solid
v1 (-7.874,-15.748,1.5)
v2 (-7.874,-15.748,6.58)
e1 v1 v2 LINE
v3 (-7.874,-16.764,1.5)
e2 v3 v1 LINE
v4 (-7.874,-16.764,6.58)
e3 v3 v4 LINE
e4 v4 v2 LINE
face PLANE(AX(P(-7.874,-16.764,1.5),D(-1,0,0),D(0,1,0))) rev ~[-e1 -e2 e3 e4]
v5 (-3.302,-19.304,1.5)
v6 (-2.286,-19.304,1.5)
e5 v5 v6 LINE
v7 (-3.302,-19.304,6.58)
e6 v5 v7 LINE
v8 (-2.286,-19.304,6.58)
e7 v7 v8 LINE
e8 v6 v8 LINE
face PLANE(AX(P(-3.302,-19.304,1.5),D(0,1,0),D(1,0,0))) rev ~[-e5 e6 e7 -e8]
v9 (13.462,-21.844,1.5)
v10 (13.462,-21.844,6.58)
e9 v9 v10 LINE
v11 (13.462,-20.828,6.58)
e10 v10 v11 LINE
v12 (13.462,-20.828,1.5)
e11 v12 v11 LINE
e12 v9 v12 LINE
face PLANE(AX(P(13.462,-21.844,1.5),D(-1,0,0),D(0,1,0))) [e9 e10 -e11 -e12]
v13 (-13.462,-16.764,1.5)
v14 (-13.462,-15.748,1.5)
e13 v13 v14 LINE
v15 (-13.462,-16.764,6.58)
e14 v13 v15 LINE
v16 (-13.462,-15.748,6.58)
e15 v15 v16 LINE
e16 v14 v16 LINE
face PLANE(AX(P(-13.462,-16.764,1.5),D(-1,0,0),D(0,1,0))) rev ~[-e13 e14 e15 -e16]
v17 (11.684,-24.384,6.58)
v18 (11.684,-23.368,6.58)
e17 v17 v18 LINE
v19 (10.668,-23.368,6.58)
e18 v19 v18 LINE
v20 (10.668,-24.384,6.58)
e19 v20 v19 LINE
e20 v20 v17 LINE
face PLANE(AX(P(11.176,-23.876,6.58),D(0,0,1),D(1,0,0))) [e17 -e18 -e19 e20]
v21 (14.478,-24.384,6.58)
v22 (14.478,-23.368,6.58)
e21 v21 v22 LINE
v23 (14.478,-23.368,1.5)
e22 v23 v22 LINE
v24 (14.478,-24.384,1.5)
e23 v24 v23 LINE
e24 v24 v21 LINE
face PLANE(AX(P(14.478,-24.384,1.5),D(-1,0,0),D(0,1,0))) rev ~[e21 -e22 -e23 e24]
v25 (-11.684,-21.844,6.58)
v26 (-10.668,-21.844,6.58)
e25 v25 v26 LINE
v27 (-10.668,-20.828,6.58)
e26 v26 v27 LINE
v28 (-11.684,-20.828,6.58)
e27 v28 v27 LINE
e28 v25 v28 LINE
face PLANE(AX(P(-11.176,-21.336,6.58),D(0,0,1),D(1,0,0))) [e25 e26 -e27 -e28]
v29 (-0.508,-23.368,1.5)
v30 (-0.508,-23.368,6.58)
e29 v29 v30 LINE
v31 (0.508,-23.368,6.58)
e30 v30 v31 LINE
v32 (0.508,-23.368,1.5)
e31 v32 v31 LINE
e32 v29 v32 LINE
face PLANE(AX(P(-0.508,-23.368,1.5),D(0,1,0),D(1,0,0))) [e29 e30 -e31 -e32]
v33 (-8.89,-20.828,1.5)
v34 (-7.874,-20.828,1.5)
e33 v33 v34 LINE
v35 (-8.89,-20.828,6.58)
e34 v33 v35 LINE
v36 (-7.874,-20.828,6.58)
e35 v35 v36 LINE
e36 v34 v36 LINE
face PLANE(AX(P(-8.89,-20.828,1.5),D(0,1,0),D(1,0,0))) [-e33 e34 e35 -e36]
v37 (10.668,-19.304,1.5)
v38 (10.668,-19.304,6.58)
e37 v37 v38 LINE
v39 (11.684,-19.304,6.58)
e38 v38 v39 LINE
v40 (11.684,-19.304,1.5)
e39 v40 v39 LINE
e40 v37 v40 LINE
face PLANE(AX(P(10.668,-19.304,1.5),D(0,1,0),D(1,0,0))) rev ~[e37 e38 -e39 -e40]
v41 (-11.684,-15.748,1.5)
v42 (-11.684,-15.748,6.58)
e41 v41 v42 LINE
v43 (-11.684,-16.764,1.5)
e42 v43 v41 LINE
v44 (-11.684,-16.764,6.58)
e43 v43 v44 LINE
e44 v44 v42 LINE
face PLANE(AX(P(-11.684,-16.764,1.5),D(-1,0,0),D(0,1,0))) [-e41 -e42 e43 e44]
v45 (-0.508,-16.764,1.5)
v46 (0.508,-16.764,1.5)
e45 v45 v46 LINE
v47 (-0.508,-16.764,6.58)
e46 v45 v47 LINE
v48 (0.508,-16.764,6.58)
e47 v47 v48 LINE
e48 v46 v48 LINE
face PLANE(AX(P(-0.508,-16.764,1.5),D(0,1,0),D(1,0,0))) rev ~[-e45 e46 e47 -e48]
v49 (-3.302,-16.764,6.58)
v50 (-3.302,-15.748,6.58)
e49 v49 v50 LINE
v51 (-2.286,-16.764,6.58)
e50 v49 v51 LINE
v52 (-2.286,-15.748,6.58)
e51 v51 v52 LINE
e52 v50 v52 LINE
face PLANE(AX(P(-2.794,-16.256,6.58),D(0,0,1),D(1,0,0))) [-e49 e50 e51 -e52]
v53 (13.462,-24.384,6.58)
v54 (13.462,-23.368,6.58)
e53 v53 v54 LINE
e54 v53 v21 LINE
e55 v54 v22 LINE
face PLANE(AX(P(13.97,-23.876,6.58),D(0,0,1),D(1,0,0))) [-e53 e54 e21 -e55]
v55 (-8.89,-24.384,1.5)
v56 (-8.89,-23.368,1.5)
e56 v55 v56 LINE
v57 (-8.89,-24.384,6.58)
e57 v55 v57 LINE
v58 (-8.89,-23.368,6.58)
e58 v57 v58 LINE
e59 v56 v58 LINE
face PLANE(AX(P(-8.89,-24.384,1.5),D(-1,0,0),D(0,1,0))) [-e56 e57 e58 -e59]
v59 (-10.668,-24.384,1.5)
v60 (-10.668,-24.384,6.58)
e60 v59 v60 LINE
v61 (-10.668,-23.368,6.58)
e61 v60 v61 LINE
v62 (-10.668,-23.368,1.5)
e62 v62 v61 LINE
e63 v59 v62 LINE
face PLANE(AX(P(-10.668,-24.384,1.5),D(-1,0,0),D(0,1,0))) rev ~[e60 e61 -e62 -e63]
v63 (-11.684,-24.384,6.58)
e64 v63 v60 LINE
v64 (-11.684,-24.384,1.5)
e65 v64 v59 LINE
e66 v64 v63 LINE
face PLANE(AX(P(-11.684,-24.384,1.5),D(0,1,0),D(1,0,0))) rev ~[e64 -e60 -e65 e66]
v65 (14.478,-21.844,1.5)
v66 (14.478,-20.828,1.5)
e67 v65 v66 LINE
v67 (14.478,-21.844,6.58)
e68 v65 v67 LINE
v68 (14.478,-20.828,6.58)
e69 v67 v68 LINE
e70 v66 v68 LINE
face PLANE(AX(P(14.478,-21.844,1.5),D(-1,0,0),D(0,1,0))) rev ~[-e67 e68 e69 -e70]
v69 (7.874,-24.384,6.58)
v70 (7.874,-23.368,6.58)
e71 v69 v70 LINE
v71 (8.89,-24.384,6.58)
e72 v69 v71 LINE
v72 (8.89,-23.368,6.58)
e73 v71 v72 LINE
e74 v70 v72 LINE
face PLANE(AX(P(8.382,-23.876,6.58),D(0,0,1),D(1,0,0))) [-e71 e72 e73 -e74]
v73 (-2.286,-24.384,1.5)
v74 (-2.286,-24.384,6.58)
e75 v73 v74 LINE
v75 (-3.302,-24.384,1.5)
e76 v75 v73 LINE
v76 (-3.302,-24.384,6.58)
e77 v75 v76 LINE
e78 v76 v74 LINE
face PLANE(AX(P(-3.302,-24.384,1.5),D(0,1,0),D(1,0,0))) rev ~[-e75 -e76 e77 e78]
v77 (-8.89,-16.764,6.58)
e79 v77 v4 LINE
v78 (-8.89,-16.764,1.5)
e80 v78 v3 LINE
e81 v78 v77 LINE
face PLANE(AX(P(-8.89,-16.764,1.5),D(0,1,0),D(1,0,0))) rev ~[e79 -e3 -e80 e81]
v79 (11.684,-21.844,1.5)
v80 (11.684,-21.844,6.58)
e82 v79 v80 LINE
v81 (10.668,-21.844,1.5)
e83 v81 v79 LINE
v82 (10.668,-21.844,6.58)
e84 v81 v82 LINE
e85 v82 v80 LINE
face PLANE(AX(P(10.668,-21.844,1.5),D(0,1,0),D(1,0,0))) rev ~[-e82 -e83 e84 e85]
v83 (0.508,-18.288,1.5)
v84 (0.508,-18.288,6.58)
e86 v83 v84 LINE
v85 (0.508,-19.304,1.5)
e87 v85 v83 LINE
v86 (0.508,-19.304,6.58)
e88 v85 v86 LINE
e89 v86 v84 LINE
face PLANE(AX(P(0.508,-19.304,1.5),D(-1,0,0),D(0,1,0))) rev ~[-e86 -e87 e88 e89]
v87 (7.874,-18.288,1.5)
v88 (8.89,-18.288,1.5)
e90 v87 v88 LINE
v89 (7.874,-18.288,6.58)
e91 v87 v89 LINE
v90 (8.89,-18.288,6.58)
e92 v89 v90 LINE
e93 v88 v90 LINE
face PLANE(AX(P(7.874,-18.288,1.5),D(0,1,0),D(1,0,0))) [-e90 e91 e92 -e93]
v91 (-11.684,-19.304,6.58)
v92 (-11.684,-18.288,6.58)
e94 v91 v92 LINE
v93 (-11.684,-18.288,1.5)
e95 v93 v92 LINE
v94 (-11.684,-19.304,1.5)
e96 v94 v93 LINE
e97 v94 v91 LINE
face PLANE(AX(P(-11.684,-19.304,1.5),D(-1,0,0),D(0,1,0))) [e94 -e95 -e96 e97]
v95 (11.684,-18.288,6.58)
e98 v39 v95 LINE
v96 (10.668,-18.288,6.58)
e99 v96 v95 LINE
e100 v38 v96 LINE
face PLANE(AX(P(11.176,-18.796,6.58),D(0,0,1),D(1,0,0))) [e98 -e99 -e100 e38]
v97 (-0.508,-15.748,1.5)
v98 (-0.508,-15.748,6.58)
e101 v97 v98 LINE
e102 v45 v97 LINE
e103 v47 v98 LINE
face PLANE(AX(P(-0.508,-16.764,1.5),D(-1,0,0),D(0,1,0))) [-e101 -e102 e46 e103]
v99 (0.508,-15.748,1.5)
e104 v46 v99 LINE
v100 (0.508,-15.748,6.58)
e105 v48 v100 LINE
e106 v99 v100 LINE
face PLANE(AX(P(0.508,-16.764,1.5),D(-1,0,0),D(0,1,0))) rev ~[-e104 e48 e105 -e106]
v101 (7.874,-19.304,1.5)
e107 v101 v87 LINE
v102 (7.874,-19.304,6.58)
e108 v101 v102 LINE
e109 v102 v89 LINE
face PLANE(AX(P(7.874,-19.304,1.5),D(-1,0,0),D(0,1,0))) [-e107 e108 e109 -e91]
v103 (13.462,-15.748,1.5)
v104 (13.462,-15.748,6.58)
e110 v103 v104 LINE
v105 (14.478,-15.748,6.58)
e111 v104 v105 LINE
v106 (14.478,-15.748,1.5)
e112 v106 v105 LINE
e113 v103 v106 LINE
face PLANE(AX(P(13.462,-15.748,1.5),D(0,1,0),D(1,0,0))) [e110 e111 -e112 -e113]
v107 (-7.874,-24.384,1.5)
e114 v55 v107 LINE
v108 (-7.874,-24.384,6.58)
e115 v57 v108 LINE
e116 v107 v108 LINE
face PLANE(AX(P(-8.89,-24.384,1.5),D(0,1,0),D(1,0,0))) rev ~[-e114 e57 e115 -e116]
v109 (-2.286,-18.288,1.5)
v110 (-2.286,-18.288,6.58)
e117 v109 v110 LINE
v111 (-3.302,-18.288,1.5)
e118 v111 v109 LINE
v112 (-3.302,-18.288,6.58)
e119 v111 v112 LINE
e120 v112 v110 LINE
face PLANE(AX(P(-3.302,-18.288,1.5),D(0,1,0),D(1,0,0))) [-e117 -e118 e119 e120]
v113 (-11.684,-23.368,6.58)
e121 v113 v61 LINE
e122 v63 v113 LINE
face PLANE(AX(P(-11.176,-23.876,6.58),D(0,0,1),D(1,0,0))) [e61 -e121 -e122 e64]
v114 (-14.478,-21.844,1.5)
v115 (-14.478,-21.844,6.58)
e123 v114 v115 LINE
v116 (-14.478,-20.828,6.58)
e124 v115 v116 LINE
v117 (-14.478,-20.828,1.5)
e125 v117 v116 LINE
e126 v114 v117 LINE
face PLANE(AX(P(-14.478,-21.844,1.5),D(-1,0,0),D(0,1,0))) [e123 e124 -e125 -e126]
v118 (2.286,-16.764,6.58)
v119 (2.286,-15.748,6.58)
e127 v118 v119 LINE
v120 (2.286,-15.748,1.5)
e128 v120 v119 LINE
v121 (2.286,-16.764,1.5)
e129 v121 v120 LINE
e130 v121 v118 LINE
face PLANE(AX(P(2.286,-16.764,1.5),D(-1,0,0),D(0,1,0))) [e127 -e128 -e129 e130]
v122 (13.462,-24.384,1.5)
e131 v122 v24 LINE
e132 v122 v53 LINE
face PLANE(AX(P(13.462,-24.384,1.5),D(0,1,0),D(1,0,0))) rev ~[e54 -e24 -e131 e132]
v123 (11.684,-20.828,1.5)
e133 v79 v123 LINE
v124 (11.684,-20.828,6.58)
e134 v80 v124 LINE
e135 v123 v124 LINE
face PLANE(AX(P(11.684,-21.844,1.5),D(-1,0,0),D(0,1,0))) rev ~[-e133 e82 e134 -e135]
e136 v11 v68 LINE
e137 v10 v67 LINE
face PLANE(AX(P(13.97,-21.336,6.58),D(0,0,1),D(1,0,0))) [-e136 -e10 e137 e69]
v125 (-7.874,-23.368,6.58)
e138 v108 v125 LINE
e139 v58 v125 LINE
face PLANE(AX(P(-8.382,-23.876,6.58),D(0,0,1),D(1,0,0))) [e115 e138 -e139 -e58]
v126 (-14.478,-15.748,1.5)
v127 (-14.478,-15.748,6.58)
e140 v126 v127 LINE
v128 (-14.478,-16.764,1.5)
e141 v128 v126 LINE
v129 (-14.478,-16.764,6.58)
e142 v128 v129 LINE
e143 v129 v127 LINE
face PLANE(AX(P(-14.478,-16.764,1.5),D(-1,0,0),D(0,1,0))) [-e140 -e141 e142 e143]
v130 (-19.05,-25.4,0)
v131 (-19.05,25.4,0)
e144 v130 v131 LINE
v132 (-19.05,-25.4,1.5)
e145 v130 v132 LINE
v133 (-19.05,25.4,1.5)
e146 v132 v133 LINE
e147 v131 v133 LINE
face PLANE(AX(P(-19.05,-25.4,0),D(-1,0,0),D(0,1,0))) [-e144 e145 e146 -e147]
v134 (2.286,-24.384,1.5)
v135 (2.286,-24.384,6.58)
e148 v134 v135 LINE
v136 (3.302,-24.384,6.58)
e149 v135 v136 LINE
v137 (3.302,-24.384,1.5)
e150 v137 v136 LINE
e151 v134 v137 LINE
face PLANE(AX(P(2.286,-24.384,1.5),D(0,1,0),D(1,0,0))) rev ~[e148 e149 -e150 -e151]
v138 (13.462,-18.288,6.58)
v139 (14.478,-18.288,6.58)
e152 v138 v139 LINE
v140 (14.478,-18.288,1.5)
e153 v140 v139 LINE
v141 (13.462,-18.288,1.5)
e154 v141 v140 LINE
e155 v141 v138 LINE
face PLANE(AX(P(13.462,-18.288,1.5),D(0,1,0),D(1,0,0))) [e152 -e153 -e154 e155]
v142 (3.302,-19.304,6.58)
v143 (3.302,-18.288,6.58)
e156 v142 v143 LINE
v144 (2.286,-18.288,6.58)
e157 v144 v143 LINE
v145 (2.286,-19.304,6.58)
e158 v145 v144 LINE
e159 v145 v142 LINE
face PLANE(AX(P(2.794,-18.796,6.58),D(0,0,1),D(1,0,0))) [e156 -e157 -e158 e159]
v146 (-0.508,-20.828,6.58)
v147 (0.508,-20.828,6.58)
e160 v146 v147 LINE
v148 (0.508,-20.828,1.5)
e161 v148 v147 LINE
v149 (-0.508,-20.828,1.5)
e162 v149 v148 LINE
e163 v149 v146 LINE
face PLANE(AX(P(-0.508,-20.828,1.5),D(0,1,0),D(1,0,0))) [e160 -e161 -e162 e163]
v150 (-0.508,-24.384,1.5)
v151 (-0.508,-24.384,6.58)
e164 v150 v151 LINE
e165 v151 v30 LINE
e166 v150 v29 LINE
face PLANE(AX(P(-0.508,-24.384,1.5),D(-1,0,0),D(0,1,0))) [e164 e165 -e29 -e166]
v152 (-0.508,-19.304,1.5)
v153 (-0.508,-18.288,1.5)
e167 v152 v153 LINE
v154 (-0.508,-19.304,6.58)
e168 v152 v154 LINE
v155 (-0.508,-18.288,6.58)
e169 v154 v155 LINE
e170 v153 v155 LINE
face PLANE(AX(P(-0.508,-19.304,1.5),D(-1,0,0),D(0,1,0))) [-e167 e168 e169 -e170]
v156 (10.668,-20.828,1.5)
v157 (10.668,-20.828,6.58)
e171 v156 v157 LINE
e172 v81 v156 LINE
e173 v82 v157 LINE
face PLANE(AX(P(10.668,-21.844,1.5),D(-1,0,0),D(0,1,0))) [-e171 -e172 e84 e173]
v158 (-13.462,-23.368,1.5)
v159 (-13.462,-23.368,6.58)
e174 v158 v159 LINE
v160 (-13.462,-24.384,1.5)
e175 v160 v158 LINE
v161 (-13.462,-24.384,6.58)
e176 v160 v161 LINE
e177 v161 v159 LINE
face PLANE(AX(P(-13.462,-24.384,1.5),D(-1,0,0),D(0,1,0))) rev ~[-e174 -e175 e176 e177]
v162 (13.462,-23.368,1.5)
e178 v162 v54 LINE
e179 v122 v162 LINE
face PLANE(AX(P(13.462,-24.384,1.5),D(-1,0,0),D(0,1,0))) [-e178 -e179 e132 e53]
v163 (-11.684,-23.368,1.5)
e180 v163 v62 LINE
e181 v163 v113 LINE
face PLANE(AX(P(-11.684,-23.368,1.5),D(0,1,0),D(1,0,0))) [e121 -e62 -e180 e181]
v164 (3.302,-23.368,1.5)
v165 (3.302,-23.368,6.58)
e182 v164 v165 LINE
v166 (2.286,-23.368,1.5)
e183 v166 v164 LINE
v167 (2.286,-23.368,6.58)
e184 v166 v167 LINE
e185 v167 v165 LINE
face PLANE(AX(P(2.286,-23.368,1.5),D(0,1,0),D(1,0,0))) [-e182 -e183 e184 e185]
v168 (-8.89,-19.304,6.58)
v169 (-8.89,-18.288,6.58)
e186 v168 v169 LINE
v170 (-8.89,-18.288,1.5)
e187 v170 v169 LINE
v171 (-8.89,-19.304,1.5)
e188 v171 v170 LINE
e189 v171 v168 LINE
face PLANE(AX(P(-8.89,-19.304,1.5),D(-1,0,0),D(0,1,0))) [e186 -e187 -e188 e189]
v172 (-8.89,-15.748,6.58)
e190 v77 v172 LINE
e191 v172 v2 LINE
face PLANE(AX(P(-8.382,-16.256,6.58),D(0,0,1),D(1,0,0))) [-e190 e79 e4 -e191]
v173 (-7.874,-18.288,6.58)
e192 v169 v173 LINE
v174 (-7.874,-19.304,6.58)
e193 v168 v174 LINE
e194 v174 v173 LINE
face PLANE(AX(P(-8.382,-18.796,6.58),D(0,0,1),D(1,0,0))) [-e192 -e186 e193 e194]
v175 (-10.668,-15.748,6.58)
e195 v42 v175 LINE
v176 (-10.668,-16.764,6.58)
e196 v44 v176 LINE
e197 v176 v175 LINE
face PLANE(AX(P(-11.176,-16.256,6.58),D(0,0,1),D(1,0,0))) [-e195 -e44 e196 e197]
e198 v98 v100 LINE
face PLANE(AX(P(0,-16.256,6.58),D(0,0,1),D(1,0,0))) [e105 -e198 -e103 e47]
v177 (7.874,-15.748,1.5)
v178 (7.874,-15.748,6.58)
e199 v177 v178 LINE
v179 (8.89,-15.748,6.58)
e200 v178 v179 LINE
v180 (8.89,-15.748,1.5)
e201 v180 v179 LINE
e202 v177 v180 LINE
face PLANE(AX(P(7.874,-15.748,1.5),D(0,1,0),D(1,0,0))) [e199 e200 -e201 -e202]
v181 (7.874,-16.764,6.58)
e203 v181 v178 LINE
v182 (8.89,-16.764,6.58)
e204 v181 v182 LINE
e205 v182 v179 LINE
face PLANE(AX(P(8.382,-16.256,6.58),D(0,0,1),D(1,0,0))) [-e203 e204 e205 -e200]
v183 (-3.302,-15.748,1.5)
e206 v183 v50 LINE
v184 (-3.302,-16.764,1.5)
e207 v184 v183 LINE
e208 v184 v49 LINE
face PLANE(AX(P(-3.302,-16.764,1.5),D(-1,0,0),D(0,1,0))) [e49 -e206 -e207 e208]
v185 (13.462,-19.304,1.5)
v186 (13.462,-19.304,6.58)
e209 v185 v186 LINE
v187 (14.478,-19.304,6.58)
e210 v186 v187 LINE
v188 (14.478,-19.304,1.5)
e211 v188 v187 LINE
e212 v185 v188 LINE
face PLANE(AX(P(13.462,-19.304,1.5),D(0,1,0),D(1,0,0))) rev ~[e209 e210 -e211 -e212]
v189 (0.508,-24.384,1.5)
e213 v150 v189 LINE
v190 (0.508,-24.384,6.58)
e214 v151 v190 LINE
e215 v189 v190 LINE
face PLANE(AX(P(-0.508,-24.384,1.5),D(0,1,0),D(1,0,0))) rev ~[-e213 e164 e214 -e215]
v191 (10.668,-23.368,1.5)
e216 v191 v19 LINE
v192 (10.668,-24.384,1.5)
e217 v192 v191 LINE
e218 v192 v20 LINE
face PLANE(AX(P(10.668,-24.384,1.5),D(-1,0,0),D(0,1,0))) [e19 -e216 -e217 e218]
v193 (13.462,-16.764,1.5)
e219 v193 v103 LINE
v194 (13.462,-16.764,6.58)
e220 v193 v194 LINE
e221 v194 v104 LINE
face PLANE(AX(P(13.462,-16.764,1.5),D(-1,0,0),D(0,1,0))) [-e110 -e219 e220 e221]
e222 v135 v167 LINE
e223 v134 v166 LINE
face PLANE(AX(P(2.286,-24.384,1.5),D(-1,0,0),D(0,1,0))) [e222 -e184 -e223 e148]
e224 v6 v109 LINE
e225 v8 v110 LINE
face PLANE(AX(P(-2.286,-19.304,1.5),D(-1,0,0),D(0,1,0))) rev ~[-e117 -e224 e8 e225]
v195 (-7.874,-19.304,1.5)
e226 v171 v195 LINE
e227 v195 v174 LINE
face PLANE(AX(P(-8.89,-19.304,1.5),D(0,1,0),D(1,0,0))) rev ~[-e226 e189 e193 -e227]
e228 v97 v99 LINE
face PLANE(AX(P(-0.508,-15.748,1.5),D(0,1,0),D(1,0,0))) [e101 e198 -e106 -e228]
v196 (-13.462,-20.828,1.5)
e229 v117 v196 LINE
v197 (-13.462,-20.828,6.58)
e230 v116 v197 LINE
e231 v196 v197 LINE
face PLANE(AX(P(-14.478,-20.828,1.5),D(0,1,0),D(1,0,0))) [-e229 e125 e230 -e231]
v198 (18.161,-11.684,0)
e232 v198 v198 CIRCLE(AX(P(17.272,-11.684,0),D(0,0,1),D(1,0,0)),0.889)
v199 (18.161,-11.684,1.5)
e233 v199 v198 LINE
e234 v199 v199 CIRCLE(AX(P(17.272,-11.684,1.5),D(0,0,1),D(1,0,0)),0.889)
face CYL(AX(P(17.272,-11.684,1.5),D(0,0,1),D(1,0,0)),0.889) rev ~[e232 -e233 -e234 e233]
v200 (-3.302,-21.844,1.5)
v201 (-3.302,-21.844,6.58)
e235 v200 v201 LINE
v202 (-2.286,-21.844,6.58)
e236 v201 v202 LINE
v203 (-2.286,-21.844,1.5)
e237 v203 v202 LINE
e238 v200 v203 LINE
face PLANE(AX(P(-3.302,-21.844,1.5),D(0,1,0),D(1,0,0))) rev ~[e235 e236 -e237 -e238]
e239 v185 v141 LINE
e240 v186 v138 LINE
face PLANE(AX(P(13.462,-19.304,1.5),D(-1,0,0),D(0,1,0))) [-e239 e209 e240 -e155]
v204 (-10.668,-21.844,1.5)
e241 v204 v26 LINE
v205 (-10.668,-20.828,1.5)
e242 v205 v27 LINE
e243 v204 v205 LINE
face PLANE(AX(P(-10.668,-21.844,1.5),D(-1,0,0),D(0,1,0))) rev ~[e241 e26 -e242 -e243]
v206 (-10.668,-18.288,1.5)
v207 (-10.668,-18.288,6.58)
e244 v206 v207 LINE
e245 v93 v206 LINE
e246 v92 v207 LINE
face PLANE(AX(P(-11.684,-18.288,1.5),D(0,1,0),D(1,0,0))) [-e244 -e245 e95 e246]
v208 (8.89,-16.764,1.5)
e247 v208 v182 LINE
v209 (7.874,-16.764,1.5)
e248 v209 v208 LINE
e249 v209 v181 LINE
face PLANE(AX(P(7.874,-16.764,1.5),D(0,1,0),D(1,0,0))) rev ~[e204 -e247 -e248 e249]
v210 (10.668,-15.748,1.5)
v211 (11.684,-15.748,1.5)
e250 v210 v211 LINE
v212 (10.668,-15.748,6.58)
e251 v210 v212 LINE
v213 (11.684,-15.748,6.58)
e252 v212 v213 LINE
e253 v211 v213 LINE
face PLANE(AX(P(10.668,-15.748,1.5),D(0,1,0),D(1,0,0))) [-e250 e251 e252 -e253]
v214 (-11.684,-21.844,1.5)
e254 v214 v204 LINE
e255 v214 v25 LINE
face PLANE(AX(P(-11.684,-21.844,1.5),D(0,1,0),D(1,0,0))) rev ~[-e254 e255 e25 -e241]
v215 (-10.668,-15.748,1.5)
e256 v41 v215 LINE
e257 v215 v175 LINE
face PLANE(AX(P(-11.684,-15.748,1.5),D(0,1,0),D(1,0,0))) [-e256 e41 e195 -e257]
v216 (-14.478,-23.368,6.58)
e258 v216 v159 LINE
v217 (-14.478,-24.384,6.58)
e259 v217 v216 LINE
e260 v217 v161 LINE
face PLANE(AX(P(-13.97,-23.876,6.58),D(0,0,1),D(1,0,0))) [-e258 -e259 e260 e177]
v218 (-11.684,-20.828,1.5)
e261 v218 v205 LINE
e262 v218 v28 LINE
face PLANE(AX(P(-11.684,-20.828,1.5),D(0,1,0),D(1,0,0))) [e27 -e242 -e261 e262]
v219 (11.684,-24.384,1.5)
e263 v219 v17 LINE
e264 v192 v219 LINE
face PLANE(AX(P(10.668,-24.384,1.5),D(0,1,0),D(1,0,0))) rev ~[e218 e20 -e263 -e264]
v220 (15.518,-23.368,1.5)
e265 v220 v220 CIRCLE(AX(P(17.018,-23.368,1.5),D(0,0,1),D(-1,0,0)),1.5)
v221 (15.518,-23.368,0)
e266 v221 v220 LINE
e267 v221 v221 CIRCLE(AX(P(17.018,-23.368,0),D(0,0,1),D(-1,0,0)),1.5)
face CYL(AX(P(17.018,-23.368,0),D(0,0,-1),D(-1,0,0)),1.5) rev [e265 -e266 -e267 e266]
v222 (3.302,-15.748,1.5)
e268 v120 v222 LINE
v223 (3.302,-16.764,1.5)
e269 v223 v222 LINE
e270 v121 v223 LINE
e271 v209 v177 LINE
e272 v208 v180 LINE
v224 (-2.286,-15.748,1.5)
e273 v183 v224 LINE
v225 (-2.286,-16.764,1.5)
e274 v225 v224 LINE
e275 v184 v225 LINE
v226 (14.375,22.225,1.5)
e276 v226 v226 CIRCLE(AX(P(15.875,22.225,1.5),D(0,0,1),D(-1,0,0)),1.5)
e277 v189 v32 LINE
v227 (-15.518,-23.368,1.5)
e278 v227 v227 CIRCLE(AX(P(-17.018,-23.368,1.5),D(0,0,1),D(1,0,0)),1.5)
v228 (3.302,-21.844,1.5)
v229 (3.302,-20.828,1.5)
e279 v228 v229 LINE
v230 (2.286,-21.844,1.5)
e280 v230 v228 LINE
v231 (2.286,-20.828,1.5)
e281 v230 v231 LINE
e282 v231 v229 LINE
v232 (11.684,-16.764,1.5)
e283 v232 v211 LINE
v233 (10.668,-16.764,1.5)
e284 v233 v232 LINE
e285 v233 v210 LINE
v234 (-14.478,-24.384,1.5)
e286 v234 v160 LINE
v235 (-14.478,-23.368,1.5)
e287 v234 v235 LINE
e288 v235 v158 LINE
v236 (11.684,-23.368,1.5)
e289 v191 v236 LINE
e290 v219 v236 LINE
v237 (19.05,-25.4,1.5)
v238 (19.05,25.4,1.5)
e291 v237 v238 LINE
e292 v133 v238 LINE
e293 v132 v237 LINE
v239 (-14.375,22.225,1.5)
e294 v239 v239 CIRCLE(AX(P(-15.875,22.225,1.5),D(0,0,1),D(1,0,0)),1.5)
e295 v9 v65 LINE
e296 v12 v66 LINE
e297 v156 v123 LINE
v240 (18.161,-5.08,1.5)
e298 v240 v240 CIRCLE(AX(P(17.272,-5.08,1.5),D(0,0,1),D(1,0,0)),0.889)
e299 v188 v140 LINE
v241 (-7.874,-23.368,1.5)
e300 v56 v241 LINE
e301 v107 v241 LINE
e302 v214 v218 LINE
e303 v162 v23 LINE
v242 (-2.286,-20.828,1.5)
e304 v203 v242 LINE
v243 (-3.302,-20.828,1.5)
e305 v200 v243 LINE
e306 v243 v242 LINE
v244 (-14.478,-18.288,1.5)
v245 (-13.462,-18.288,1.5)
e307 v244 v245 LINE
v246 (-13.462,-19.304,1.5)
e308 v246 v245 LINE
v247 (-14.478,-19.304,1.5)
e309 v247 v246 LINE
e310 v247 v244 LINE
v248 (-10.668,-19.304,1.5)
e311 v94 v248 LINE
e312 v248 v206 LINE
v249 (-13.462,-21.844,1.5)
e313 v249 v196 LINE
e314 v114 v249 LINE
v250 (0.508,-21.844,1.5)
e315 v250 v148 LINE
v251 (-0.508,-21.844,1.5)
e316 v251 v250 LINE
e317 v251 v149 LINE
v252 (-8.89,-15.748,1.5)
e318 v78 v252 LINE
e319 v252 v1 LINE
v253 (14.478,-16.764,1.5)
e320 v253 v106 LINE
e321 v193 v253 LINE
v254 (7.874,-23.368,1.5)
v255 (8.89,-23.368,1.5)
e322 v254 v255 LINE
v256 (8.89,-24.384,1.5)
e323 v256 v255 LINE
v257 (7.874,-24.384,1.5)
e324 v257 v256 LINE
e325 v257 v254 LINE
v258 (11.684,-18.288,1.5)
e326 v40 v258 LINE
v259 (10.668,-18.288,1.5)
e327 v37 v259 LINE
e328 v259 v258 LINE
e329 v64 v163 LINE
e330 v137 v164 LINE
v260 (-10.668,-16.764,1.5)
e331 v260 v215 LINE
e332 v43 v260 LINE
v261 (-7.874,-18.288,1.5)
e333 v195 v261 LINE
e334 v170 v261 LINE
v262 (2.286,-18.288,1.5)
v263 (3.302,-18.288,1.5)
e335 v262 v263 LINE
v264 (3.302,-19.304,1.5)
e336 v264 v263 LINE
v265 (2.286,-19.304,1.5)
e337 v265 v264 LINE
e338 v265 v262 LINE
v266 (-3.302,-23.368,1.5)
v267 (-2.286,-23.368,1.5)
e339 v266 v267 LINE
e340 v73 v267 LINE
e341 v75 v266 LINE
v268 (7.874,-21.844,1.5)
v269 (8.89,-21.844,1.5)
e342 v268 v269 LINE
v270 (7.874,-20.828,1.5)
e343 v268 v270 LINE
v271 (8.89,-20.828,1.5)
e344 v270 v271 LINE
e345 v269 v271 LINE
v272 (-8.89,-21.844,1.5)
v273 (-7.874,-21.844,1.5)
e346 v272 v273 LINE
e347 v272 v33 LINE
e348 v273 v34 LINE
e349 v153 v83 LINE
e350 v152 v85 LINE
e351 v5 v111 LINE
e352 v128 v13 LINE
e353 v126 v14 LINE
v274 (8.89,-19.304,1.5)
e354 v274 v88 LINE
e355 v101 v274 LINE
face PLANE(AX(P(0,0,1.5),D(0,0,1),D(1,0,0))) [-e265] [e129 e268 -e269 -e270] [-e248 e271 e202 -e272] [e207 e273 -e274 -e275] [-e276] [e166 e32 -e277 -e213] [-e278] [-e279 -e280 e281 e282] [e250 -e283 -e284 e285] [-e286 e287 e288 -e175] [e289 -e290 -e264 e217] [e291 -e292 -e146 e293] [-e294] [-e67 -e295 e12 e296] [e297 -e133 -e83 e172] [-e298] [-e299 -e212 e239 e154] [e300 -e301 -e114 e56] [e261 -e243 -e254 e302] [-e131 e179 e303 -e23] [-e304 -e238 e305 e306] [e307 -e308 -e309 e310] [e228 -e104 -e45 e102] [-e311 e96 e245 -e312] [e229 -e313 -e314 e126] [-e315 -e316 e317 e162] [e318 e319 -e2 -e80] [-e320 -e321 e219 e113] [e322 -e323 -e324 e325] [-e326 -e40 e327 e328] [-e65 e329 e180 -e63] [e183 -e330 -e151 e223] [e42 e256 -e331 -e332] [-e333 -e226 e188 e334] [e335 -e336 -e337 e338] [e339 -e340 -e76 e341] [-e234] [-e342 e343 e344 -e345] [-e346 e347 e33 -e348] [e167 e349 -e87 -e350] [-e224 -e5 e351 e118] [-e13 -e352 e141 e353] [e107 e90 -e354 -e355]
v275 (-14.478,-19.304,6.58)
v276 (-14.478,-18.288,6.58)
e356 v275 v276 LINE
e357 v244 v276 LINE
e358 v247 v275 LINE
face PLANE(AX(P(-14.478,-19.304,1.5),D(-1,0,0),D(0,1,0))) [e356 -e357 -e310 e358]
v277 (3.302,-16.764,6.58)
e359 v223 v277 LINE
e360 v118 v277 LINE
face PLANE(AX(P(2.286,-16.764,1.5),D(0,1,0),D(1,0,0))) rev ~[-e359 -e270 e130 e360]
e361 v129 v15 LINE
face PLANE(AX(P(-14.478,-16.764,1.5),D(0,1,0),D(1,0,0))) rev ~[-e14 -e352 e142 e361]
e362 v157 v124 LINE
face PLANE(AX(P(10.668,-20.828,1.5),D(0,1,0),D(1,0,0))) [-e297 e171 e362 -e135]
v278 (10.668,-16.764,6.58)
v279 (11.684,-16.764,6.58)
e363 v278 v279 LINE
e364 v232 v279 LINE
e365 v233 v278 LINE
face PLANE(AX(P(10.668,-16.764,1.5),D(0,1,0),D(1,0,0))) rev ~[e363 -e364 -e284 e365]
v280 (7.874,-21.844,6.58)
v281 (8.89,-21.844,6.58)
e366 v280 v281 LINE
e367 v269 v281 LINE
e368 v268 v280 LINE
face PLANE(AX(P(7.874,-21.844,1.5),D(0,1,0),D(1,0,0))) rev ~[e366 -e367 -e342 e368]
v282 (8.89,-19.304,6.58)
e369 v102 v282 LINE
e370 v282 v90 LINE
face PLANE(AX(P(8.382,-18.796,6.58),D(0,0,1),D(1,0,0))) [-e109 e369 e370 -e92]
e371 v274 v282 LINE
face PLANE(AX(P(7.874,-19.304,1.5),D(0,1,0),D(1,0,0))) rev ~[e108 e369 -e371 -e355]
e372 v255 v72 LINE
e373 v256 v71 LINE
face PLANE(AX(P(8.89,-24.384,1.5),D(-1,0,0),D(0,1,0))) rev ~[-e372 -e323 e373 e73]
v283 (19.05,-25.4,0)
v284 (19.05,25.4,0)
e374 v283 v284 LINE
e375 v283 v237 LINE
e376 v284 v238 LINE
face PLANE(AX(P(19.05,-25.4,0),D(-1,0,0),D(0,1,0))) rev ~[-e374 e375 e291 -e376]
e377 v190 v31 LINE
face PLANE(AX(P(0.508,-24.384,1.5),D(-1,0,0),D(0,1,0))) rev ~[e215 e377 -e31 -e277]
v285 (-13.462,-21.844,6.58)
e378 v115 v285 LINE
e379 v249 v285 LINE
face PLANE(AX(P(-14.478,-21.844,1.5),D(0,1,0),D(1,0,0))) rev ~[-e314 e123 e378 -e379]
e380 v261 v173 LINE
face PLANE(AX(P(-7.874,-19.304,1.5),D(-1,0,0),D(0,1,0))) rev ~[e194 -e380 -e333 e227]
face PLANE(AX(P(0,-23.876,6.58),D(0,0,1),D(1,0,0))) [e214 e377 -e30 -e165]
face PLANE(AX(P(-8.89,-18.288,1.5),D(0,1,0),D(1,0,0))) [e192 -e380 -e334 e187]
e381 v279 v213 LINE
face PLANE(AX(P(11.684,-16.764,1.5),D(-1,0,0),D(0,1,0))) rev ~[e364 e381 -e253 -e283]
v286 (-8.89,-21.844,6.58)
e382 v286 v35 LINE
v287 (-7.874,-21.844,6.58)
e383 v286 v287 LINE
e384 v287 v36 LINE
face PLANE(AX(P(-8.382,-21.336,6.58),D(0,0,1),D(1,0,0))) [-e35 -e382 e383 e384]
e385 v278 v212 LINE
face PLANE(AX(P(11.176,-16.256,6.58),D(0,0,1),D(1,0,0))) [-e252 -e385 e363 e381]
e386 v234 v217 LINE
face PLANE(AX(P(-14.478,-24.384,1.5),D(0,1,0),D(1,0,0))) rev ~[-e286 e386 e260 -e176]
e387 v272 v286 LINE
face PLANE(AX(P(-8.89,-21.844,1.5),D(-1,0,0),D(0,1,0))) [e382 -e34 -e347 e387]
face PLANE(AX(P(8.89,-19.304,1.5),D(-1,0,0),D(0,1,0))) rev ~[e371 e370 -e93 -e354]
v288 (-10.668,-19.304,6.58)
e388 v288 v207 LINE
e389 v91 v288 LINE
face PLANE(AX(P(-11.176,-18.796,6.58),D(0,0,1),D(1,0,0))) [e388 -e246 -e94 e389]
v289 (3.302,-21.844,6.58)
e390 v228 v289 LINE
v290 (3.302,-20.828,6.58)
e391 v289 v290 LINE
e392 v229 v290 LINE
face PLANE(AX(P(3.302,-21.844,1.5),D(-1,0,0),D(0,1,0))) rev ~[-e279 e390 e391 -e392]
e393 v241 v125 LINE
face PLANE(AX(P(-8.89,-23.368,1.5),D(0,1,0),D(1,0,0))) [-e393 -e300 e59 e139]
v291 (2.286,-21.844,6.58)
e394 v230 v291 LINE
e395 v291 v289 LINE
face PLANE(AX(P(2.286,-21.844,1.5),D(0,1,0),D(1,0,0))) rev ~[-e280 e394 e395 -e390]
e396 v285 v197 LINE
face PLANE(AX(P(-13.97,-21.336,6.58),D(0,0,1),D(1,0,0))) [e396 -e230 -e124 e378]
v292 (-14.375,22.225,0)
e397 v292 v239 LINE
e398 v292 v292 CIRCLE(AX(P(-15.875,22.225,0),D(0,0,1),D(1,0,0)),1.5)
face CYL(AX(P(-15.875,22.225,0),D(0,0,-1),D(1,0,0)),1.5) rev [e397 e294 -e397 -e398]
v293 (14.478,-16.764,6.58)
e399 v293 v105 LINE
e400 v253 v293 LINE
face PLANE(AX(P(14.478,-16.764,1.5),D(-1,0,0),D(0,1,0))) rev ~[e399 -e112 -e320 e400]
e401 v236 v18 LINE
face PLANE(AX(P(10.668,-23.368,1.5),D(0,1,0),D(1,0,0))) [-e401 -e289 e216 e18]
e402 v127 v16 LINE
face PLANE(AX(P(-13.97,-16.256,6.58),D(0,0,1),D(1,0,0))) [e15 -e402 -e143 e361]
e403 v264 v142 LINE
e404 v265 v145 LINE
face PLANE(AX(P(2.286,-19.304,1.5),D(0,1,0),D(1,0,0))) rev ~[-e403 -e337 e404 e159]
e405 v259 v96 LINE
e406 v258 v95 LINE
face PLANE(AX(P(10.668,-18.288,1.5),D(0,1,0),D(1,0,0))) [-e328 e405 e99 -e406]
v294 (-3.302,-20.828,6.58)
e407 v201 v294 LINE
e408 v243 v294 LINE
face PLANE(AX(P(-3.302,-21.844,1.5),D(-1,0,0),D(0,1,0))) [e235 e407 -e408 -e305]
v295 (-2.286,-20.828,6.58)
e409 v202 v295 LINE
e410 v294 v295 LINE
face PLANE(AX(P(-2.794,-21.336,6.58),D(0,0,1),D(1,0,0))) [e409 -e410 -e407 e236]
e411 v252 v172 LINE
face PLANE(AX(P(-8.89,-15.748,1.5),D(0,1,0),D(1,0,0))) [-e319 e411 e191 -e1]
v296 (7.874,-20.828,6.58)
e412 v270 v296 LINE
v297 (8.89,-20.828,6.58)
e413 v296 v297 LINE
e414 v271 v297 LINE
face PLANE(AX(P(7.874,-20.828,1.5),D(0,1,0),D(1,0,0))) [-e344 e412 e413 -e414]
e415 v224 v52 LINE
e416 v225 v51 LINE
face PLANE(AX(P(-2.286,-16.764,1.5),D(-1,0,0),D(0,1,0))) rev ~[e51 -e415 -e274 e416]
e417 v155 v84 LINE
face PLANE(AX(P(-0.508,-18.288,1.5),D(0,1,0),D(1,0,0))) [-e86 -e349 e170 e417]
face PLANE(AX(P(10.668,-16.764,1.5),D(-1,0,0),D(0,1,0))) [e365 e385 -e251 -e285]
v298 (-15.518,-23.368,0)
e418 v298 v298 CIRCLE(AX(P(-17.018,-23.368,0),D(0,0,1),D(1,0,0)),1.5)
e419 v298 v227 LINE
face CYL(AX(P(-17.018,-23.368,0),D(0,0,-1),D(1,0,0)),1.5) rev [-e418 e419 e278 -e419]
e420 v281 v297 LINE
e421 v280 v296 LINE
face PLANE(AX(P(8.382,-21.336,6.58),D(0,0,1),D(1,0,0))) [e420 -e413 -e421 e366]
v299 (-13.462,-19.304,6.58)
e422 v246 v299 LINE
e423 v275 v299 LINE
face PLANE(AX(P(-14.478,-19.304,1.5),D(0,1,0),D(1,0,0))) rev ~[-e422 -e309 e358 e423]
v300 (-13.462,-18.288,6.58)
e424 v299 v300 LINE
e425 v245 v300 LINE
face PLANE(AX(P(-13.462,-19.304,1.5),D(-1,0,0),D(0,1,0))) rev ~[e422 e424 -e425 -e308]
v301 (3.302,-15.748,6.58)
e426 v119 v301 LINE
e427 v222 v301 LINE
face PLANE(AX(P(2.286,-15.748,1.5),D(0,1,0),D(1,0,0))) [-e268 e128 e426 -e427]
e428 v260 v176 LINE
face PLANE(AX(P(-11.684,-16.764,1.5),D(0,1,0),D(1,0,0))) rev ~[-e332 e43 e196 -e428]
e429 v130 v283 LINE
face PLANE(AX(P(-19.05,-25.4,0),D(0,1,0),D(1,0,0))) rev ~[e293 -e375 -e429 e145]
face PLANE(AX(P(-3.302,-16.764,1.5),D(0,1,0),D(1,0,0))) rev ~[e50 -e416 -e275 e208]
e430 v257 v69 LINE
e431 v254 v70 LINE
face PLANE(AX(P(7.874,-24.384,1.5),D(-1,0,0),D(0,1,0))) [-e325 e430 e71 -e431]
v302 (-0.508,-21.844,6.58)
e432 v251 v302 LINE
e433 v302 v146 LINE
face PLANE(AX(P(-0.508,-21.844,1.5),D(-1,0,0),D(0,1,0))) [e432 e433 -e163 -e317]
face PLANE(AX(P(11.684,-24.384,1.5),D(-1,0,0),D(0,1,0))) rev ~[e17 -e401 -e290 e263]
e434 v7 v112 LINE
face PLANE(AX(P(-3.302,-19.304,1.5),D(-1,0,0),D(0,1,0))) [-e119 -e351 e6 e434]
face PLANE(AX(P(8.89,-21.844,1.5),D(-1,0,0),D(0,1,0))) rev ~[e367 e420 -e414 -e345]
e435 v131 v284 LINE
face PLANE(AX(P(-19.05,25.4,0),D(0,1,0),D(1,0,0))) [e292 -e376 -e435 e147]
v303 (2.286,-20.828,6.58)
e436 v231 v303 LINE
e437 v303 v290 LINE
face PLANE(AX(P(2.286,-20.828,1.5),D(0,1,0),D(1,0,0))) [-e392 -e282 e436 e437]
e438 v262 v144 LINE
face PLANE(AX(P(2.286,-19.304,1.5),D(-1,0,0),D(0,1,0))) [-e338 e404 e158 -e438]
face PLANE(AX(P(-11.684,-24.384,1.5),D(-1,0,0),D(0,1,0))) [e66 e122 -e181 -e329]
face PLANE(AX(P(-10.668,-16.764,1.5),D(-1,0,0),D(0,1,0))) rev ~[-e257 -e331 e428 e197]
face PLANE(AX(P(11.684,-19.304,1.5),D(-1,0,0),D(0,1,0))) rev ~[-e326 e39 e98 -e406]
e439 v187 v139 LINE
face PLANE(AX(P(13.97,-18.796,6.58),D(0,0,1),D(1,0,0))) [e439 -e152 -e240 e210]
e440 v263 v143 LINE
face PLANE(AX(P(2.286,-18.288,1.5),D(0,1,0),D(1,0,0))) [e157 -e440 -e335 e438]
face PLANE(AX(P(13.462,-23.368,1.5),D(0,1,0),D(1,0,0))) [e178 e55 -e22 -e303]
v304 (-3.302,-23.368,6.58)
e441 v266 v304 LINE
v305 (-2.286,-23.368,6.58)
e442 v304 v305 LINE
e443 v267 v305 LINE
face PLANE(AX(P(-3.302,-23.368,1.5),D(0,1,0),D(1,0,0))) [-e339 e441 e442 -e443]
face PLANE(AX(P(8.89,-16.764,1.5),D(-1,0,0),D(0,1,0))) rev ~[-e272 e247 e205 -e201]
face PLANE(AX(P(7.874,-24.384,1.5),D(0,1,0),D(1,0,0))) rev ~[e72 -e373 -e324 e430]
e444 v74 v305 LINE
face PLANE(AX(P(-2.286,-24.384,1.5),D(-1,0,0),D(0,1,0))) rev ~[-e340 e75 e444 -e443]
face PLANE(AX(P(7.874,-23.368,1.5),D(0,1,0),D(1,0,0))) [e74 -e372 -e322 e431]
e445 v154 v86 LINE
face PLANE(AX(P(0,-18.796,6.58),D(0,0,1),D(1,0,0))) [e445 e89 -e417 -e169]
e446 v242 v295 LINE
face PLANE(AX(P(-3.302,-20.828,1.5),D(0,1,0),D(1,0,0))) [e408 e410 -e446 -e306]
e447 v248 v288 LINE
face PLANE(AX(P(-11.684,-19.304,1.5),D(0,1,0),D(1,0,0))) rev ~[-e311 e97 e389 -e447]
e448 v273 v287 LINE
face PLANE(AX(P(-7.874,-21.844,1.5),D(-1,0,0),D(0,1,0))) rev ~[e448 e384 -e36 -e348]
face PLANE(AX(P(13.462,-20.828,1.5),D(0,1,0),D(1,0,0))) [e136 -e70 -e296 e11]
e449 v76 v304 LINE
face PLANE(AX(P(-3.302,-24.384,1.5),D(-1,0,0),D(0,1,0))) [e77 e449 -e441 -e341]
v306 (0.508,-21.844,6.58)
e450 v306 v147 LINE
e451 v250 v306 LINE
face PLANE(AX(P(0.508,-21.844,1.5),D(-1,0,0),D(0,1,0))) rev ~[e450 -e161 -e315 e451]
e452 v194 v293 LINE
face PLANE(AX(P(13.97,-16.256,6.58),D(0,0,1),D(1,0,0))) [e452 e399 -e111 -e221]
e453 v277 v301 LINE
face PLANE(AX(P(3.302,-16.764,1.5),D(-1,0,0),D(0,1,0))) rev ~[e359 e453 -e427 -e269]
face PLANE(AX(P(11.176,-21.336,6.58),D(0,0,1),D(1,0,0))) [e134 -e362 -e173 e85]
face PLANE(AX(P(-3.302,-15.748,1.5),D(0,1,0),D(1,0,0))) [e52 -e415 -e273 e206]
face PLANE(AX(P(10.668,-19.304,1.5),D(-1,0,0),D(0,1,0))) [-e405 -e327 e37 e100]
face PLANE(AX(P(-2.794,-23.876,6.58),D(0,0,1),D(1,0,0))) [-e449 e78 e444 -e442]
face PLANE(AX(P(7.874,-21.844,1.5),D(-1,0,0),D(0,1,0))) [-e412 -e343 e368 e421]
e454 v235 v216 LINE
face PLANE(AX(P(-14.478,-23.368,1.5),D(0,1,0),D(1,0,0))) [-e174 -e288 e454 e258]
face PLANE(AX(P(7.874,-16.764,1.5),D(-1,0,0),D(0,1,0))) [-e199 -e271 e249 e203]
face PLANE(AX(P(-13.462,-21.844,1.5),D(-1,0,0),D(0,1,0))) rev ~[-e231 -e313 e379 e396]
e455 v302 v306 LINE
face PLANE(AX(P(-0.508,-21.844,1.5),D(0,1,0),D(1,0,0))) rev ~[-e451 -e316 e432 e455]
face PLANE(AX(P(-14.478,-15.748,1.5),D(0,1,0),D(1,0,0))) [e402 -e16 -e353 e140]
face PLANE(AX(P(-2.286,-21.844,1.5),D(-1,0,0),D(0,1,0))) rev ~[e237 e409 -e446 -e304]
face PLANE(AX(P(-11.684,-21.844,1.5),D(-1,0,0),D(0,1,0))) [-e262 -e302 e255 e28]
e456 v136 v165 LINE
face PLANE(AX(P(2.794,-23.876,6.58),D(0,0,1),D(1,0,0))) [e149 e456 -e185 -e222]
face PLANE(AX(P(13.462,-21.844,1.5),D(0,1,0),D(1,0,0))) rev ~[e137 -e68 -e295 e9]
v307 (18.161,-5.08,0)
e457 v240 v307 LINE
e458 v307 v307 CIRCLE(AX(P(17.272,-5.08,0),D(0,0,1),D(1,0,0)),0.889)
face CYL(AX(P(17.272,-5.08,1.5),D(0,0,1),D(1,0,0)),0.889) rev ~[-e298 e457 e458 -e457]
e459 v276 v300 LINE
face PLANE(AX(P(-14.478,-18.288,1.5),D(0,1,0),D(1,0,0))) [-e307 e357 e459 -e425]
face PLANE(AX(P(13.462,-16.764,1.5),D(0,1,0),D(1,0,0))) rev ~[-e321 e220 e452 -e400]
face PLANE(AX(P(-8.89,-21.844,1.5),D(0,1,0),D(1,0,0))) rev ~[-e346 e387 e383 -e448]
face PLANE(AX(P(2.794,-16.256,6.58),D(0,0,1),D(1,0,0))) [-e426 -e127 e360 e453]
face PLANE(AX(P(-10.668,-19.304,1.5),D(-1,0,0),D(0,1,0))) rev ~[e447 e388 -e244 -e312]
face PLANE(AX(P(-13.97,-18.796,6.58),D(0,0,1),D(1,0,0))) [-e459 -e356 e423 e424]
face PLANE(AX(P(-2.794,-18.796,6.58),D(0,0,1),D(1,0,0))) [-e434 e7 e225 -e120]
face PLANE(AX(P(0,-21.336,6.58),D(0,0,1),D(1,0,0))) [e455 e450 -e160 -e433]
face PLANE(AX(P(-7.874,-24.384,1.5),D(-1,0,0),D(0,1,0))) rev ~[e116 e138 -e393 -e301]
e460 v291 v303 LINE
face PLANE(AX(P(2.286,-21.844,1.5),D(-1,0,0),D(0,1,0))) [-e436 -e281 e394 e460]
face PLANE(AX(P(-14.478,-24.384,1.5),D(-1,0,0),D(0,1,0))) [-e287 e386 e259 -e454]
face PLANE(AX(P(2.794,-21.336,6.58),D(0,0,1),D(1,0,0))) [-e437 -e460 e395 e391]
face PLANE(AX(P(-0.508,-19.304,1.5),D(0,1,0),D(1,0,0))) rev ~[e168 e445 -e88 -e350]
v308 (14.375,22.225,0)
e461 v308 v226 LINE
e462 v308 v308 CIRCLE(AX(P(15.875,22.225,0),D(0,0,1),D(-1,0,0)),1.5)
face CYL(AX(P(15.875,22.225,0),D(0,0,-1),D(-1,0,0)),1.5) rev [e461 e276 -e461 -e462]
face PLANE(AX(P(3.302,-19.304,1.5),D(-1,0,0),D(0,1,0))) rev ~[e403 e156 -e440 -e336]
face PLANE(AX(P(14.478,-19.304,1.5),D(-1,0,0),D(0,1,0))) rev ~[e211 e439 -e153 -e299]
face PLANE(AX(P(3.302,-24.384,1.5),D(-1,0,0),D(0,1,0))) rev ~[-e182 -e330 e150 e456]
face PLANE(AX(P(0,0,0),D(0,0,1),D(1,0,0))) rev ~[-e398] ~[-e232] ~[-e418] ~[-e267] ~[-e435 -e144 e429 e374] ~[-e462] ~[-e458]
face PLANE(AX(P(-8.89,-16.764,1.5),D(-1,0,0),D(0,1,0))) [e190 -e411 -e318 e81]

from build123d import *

# Parameters (mm, degrees)
SKETCH1_W           = 38.1
SKETCH1_H           = 50.8
SKETCH1_R           = 1.5
BOSS_EXTRUDE1_DEPTH = 1.5
SKETCH2_R           = 0.889
CUT_EXTRUDE1_DEPTH  = 32.785413321
SKETCH3_W           = 1.016
SKETCH3_H           = 1.016
BOSS_EXTRUDE2_DEPTH = 5.08


with BuildPart() as part:
    # Sketch1 → Boss-Extrude1 (new body)
    with BuildSketch(Plane.XY):
        Rectangle(SKETCH1_W, SKETCH1_H)
        with Locations((-17.018, -23.368)):
            Circle(SKETCH1_R, mode=Mode.SUBTRACT)
        with Locations((-15.875, 22.225)):
            Circle(SKETCH1_R, mode=Mode.SUBTRACT)
        with Locations(Location((17.018, -23.368, 0), (0, 0, 180))):
            Circle(SKETCH1_R, mode=Mode.SUBTRACT)
        with Locations(Location((15.875, 22.225, 0), (0, 0, 180))):
            Circle(SKETCH1_R, mode=Mode.SUBTRACT)
    extrude(amount=BOSS_EXTRUDE1_DEPTH)

    # Sketch2 → Cut-Extrude1 (cut, through all)
    with BuildSketch(Plane.XY.offset(1.5)):
        with Locations((17.272, -11.684)):
            Circle(SKETCH2_R)
        with Locations((17.272, -5.08)):
            Circle(SKETCH2_R)
    extrude(amount=-CUT_EXTRUDE1_DEPTH, mode=Mode.SUBTRACT)

    # Sketch3 → Boss-Extrude2 (add)
    with BuildSketch(Plane.XY.offset(1.5)):
        with Locations((-13.97, -23.876)):
            Rectangle(SKETCH3_W, SKETCH3_H)
        with Locations((-13.97, -21.336)):
            Rectangle(SKETCH3_W, SKETCH3_H)
        with Locations((-13.97, -18.796)):
            Rectangle(SKETCH3_W, SKETCH3_H)
        with Locations((-13.97, -16.256)):
            Rectangle(SKETCH3_W, SKETCH3_H)
        with Locations((-11.176, -23.876)):
            Rectangle(SKETCH3_W, SKETCH3_H)
        with Locations((-11.176, -21.336)):
            Rectangle(SKETCH3_W, SKETCH3_H)
        with Locations((-11.176, -18.796)):
            Rectangle(SKETCH3_W, SKETCH3_H)
        with Locations((-11.176, -16.256)):
            Rectangle(SKETCH3_W, SKETCH3_H)
        with Locations((-8.382, -23.876)):
            Rectangle(SKETCH3_W, SKETCH3_H)
        with Locations((-8.382, -21.336)):
            Rectangle(SKETCH3_W, SKETCH3_H)
        with Locations((-8.382, -18.796)):
            Rectangle(SKETCH3_W, SKETCH3_H)
        with Locations((-8.382, -16.256)):
            Rectangle(SKETCH3_W, SKETCH3_H)
        with Locations((-2.794, -23.876)):
            Rectangle(SKETCH3_W, SKETCH3_H)
        with Locations((-2.794, -21.336)):
            Rectangle(SKETCH3_W, SKETCH3_H)
        with Locations((-2.794, -18.796)):
            Rectangle(SKETCH3_W, SKETCH3_H)
        with Locations((-2.794, -16.256)):
            Rectangle(SKETCH3_W, SKETCH3_H)
        with Locations((0, -23.876)):
            Rectangle(SKETCH3_W, SKETCH3_H)
        with Locations((0, -21.336)):
            Rectangle(SKETCH3_W, SKETCH3_H)
        with Locations((0, -18.796)):
            Rectangle(SKETCH3_W, SKETCH3_H)
        with Locations((0, -16.256)):
            Rectangle(SKETCH3_W, SKETCH3_H)
        with Locations((2.794, -23.876)):
            Rectangle(SKETCH3_W, SKETCH3_H)
        with Locations((2.794, -21.336)):
            Rectangle(SKETCH3_W, SKETCH3_H)
        with Locations((2.794, -18.796)):
            Rectangle(SKETCH3_W, SKETCH3_H)
        with Locations((2.794, -16.256)):
            Rectangle(SKETCH3_W, SKETCH3_H)
        with Locations((8.382, -23.876)):
            Rectangle(SKETCH3_W, SKETCH3_H)
        with Locations((8.382, -21.336)):
            Rectangle(SKETCH3_W, SKETCH3_H)
        with Locations((8.382, -18.796)):
            Rectangle(SKETCH3_W, SKETCH3_H)
        with Locations((8.382, -16.256)):
            Rectangle(SKETCH3_W, SKETCH3_H)
        with Locations((11.176, -23.876)):
            Rectangle(SKETCH3_W, SKETCH3_H)
        with Locations((11.176, -21.336)):
            Rectangle(SKETCH3_W, SKETCH3_H)
        with Locations((11.176, -18.796)):
            Rectangle(SKETCH3_W, SKETCH3_H)
        with Locations((11.176, -16.256)):
            Rectangle(SKETCH3_W, SKETCH3_H)
        with Locations((13.97, -23.876)):
            Rectangle(SKETCH3_W, SKETCH3_H)
        with Locations((13.97, -21.336)):
            Rectangle(SKETCH3_W, SKETCH3_H)
        with Locations((13.97, -18.796)):
            Rectangle(SKETCH3_W, SKETCH3_H)
        with Locations((13.97, -16.256)):
            Rectangle(SKETCH3_W, SKETCH3_H)
    extrude(amount=BOSS_EXTRUDE2_DEPTH)


solid = part.part
